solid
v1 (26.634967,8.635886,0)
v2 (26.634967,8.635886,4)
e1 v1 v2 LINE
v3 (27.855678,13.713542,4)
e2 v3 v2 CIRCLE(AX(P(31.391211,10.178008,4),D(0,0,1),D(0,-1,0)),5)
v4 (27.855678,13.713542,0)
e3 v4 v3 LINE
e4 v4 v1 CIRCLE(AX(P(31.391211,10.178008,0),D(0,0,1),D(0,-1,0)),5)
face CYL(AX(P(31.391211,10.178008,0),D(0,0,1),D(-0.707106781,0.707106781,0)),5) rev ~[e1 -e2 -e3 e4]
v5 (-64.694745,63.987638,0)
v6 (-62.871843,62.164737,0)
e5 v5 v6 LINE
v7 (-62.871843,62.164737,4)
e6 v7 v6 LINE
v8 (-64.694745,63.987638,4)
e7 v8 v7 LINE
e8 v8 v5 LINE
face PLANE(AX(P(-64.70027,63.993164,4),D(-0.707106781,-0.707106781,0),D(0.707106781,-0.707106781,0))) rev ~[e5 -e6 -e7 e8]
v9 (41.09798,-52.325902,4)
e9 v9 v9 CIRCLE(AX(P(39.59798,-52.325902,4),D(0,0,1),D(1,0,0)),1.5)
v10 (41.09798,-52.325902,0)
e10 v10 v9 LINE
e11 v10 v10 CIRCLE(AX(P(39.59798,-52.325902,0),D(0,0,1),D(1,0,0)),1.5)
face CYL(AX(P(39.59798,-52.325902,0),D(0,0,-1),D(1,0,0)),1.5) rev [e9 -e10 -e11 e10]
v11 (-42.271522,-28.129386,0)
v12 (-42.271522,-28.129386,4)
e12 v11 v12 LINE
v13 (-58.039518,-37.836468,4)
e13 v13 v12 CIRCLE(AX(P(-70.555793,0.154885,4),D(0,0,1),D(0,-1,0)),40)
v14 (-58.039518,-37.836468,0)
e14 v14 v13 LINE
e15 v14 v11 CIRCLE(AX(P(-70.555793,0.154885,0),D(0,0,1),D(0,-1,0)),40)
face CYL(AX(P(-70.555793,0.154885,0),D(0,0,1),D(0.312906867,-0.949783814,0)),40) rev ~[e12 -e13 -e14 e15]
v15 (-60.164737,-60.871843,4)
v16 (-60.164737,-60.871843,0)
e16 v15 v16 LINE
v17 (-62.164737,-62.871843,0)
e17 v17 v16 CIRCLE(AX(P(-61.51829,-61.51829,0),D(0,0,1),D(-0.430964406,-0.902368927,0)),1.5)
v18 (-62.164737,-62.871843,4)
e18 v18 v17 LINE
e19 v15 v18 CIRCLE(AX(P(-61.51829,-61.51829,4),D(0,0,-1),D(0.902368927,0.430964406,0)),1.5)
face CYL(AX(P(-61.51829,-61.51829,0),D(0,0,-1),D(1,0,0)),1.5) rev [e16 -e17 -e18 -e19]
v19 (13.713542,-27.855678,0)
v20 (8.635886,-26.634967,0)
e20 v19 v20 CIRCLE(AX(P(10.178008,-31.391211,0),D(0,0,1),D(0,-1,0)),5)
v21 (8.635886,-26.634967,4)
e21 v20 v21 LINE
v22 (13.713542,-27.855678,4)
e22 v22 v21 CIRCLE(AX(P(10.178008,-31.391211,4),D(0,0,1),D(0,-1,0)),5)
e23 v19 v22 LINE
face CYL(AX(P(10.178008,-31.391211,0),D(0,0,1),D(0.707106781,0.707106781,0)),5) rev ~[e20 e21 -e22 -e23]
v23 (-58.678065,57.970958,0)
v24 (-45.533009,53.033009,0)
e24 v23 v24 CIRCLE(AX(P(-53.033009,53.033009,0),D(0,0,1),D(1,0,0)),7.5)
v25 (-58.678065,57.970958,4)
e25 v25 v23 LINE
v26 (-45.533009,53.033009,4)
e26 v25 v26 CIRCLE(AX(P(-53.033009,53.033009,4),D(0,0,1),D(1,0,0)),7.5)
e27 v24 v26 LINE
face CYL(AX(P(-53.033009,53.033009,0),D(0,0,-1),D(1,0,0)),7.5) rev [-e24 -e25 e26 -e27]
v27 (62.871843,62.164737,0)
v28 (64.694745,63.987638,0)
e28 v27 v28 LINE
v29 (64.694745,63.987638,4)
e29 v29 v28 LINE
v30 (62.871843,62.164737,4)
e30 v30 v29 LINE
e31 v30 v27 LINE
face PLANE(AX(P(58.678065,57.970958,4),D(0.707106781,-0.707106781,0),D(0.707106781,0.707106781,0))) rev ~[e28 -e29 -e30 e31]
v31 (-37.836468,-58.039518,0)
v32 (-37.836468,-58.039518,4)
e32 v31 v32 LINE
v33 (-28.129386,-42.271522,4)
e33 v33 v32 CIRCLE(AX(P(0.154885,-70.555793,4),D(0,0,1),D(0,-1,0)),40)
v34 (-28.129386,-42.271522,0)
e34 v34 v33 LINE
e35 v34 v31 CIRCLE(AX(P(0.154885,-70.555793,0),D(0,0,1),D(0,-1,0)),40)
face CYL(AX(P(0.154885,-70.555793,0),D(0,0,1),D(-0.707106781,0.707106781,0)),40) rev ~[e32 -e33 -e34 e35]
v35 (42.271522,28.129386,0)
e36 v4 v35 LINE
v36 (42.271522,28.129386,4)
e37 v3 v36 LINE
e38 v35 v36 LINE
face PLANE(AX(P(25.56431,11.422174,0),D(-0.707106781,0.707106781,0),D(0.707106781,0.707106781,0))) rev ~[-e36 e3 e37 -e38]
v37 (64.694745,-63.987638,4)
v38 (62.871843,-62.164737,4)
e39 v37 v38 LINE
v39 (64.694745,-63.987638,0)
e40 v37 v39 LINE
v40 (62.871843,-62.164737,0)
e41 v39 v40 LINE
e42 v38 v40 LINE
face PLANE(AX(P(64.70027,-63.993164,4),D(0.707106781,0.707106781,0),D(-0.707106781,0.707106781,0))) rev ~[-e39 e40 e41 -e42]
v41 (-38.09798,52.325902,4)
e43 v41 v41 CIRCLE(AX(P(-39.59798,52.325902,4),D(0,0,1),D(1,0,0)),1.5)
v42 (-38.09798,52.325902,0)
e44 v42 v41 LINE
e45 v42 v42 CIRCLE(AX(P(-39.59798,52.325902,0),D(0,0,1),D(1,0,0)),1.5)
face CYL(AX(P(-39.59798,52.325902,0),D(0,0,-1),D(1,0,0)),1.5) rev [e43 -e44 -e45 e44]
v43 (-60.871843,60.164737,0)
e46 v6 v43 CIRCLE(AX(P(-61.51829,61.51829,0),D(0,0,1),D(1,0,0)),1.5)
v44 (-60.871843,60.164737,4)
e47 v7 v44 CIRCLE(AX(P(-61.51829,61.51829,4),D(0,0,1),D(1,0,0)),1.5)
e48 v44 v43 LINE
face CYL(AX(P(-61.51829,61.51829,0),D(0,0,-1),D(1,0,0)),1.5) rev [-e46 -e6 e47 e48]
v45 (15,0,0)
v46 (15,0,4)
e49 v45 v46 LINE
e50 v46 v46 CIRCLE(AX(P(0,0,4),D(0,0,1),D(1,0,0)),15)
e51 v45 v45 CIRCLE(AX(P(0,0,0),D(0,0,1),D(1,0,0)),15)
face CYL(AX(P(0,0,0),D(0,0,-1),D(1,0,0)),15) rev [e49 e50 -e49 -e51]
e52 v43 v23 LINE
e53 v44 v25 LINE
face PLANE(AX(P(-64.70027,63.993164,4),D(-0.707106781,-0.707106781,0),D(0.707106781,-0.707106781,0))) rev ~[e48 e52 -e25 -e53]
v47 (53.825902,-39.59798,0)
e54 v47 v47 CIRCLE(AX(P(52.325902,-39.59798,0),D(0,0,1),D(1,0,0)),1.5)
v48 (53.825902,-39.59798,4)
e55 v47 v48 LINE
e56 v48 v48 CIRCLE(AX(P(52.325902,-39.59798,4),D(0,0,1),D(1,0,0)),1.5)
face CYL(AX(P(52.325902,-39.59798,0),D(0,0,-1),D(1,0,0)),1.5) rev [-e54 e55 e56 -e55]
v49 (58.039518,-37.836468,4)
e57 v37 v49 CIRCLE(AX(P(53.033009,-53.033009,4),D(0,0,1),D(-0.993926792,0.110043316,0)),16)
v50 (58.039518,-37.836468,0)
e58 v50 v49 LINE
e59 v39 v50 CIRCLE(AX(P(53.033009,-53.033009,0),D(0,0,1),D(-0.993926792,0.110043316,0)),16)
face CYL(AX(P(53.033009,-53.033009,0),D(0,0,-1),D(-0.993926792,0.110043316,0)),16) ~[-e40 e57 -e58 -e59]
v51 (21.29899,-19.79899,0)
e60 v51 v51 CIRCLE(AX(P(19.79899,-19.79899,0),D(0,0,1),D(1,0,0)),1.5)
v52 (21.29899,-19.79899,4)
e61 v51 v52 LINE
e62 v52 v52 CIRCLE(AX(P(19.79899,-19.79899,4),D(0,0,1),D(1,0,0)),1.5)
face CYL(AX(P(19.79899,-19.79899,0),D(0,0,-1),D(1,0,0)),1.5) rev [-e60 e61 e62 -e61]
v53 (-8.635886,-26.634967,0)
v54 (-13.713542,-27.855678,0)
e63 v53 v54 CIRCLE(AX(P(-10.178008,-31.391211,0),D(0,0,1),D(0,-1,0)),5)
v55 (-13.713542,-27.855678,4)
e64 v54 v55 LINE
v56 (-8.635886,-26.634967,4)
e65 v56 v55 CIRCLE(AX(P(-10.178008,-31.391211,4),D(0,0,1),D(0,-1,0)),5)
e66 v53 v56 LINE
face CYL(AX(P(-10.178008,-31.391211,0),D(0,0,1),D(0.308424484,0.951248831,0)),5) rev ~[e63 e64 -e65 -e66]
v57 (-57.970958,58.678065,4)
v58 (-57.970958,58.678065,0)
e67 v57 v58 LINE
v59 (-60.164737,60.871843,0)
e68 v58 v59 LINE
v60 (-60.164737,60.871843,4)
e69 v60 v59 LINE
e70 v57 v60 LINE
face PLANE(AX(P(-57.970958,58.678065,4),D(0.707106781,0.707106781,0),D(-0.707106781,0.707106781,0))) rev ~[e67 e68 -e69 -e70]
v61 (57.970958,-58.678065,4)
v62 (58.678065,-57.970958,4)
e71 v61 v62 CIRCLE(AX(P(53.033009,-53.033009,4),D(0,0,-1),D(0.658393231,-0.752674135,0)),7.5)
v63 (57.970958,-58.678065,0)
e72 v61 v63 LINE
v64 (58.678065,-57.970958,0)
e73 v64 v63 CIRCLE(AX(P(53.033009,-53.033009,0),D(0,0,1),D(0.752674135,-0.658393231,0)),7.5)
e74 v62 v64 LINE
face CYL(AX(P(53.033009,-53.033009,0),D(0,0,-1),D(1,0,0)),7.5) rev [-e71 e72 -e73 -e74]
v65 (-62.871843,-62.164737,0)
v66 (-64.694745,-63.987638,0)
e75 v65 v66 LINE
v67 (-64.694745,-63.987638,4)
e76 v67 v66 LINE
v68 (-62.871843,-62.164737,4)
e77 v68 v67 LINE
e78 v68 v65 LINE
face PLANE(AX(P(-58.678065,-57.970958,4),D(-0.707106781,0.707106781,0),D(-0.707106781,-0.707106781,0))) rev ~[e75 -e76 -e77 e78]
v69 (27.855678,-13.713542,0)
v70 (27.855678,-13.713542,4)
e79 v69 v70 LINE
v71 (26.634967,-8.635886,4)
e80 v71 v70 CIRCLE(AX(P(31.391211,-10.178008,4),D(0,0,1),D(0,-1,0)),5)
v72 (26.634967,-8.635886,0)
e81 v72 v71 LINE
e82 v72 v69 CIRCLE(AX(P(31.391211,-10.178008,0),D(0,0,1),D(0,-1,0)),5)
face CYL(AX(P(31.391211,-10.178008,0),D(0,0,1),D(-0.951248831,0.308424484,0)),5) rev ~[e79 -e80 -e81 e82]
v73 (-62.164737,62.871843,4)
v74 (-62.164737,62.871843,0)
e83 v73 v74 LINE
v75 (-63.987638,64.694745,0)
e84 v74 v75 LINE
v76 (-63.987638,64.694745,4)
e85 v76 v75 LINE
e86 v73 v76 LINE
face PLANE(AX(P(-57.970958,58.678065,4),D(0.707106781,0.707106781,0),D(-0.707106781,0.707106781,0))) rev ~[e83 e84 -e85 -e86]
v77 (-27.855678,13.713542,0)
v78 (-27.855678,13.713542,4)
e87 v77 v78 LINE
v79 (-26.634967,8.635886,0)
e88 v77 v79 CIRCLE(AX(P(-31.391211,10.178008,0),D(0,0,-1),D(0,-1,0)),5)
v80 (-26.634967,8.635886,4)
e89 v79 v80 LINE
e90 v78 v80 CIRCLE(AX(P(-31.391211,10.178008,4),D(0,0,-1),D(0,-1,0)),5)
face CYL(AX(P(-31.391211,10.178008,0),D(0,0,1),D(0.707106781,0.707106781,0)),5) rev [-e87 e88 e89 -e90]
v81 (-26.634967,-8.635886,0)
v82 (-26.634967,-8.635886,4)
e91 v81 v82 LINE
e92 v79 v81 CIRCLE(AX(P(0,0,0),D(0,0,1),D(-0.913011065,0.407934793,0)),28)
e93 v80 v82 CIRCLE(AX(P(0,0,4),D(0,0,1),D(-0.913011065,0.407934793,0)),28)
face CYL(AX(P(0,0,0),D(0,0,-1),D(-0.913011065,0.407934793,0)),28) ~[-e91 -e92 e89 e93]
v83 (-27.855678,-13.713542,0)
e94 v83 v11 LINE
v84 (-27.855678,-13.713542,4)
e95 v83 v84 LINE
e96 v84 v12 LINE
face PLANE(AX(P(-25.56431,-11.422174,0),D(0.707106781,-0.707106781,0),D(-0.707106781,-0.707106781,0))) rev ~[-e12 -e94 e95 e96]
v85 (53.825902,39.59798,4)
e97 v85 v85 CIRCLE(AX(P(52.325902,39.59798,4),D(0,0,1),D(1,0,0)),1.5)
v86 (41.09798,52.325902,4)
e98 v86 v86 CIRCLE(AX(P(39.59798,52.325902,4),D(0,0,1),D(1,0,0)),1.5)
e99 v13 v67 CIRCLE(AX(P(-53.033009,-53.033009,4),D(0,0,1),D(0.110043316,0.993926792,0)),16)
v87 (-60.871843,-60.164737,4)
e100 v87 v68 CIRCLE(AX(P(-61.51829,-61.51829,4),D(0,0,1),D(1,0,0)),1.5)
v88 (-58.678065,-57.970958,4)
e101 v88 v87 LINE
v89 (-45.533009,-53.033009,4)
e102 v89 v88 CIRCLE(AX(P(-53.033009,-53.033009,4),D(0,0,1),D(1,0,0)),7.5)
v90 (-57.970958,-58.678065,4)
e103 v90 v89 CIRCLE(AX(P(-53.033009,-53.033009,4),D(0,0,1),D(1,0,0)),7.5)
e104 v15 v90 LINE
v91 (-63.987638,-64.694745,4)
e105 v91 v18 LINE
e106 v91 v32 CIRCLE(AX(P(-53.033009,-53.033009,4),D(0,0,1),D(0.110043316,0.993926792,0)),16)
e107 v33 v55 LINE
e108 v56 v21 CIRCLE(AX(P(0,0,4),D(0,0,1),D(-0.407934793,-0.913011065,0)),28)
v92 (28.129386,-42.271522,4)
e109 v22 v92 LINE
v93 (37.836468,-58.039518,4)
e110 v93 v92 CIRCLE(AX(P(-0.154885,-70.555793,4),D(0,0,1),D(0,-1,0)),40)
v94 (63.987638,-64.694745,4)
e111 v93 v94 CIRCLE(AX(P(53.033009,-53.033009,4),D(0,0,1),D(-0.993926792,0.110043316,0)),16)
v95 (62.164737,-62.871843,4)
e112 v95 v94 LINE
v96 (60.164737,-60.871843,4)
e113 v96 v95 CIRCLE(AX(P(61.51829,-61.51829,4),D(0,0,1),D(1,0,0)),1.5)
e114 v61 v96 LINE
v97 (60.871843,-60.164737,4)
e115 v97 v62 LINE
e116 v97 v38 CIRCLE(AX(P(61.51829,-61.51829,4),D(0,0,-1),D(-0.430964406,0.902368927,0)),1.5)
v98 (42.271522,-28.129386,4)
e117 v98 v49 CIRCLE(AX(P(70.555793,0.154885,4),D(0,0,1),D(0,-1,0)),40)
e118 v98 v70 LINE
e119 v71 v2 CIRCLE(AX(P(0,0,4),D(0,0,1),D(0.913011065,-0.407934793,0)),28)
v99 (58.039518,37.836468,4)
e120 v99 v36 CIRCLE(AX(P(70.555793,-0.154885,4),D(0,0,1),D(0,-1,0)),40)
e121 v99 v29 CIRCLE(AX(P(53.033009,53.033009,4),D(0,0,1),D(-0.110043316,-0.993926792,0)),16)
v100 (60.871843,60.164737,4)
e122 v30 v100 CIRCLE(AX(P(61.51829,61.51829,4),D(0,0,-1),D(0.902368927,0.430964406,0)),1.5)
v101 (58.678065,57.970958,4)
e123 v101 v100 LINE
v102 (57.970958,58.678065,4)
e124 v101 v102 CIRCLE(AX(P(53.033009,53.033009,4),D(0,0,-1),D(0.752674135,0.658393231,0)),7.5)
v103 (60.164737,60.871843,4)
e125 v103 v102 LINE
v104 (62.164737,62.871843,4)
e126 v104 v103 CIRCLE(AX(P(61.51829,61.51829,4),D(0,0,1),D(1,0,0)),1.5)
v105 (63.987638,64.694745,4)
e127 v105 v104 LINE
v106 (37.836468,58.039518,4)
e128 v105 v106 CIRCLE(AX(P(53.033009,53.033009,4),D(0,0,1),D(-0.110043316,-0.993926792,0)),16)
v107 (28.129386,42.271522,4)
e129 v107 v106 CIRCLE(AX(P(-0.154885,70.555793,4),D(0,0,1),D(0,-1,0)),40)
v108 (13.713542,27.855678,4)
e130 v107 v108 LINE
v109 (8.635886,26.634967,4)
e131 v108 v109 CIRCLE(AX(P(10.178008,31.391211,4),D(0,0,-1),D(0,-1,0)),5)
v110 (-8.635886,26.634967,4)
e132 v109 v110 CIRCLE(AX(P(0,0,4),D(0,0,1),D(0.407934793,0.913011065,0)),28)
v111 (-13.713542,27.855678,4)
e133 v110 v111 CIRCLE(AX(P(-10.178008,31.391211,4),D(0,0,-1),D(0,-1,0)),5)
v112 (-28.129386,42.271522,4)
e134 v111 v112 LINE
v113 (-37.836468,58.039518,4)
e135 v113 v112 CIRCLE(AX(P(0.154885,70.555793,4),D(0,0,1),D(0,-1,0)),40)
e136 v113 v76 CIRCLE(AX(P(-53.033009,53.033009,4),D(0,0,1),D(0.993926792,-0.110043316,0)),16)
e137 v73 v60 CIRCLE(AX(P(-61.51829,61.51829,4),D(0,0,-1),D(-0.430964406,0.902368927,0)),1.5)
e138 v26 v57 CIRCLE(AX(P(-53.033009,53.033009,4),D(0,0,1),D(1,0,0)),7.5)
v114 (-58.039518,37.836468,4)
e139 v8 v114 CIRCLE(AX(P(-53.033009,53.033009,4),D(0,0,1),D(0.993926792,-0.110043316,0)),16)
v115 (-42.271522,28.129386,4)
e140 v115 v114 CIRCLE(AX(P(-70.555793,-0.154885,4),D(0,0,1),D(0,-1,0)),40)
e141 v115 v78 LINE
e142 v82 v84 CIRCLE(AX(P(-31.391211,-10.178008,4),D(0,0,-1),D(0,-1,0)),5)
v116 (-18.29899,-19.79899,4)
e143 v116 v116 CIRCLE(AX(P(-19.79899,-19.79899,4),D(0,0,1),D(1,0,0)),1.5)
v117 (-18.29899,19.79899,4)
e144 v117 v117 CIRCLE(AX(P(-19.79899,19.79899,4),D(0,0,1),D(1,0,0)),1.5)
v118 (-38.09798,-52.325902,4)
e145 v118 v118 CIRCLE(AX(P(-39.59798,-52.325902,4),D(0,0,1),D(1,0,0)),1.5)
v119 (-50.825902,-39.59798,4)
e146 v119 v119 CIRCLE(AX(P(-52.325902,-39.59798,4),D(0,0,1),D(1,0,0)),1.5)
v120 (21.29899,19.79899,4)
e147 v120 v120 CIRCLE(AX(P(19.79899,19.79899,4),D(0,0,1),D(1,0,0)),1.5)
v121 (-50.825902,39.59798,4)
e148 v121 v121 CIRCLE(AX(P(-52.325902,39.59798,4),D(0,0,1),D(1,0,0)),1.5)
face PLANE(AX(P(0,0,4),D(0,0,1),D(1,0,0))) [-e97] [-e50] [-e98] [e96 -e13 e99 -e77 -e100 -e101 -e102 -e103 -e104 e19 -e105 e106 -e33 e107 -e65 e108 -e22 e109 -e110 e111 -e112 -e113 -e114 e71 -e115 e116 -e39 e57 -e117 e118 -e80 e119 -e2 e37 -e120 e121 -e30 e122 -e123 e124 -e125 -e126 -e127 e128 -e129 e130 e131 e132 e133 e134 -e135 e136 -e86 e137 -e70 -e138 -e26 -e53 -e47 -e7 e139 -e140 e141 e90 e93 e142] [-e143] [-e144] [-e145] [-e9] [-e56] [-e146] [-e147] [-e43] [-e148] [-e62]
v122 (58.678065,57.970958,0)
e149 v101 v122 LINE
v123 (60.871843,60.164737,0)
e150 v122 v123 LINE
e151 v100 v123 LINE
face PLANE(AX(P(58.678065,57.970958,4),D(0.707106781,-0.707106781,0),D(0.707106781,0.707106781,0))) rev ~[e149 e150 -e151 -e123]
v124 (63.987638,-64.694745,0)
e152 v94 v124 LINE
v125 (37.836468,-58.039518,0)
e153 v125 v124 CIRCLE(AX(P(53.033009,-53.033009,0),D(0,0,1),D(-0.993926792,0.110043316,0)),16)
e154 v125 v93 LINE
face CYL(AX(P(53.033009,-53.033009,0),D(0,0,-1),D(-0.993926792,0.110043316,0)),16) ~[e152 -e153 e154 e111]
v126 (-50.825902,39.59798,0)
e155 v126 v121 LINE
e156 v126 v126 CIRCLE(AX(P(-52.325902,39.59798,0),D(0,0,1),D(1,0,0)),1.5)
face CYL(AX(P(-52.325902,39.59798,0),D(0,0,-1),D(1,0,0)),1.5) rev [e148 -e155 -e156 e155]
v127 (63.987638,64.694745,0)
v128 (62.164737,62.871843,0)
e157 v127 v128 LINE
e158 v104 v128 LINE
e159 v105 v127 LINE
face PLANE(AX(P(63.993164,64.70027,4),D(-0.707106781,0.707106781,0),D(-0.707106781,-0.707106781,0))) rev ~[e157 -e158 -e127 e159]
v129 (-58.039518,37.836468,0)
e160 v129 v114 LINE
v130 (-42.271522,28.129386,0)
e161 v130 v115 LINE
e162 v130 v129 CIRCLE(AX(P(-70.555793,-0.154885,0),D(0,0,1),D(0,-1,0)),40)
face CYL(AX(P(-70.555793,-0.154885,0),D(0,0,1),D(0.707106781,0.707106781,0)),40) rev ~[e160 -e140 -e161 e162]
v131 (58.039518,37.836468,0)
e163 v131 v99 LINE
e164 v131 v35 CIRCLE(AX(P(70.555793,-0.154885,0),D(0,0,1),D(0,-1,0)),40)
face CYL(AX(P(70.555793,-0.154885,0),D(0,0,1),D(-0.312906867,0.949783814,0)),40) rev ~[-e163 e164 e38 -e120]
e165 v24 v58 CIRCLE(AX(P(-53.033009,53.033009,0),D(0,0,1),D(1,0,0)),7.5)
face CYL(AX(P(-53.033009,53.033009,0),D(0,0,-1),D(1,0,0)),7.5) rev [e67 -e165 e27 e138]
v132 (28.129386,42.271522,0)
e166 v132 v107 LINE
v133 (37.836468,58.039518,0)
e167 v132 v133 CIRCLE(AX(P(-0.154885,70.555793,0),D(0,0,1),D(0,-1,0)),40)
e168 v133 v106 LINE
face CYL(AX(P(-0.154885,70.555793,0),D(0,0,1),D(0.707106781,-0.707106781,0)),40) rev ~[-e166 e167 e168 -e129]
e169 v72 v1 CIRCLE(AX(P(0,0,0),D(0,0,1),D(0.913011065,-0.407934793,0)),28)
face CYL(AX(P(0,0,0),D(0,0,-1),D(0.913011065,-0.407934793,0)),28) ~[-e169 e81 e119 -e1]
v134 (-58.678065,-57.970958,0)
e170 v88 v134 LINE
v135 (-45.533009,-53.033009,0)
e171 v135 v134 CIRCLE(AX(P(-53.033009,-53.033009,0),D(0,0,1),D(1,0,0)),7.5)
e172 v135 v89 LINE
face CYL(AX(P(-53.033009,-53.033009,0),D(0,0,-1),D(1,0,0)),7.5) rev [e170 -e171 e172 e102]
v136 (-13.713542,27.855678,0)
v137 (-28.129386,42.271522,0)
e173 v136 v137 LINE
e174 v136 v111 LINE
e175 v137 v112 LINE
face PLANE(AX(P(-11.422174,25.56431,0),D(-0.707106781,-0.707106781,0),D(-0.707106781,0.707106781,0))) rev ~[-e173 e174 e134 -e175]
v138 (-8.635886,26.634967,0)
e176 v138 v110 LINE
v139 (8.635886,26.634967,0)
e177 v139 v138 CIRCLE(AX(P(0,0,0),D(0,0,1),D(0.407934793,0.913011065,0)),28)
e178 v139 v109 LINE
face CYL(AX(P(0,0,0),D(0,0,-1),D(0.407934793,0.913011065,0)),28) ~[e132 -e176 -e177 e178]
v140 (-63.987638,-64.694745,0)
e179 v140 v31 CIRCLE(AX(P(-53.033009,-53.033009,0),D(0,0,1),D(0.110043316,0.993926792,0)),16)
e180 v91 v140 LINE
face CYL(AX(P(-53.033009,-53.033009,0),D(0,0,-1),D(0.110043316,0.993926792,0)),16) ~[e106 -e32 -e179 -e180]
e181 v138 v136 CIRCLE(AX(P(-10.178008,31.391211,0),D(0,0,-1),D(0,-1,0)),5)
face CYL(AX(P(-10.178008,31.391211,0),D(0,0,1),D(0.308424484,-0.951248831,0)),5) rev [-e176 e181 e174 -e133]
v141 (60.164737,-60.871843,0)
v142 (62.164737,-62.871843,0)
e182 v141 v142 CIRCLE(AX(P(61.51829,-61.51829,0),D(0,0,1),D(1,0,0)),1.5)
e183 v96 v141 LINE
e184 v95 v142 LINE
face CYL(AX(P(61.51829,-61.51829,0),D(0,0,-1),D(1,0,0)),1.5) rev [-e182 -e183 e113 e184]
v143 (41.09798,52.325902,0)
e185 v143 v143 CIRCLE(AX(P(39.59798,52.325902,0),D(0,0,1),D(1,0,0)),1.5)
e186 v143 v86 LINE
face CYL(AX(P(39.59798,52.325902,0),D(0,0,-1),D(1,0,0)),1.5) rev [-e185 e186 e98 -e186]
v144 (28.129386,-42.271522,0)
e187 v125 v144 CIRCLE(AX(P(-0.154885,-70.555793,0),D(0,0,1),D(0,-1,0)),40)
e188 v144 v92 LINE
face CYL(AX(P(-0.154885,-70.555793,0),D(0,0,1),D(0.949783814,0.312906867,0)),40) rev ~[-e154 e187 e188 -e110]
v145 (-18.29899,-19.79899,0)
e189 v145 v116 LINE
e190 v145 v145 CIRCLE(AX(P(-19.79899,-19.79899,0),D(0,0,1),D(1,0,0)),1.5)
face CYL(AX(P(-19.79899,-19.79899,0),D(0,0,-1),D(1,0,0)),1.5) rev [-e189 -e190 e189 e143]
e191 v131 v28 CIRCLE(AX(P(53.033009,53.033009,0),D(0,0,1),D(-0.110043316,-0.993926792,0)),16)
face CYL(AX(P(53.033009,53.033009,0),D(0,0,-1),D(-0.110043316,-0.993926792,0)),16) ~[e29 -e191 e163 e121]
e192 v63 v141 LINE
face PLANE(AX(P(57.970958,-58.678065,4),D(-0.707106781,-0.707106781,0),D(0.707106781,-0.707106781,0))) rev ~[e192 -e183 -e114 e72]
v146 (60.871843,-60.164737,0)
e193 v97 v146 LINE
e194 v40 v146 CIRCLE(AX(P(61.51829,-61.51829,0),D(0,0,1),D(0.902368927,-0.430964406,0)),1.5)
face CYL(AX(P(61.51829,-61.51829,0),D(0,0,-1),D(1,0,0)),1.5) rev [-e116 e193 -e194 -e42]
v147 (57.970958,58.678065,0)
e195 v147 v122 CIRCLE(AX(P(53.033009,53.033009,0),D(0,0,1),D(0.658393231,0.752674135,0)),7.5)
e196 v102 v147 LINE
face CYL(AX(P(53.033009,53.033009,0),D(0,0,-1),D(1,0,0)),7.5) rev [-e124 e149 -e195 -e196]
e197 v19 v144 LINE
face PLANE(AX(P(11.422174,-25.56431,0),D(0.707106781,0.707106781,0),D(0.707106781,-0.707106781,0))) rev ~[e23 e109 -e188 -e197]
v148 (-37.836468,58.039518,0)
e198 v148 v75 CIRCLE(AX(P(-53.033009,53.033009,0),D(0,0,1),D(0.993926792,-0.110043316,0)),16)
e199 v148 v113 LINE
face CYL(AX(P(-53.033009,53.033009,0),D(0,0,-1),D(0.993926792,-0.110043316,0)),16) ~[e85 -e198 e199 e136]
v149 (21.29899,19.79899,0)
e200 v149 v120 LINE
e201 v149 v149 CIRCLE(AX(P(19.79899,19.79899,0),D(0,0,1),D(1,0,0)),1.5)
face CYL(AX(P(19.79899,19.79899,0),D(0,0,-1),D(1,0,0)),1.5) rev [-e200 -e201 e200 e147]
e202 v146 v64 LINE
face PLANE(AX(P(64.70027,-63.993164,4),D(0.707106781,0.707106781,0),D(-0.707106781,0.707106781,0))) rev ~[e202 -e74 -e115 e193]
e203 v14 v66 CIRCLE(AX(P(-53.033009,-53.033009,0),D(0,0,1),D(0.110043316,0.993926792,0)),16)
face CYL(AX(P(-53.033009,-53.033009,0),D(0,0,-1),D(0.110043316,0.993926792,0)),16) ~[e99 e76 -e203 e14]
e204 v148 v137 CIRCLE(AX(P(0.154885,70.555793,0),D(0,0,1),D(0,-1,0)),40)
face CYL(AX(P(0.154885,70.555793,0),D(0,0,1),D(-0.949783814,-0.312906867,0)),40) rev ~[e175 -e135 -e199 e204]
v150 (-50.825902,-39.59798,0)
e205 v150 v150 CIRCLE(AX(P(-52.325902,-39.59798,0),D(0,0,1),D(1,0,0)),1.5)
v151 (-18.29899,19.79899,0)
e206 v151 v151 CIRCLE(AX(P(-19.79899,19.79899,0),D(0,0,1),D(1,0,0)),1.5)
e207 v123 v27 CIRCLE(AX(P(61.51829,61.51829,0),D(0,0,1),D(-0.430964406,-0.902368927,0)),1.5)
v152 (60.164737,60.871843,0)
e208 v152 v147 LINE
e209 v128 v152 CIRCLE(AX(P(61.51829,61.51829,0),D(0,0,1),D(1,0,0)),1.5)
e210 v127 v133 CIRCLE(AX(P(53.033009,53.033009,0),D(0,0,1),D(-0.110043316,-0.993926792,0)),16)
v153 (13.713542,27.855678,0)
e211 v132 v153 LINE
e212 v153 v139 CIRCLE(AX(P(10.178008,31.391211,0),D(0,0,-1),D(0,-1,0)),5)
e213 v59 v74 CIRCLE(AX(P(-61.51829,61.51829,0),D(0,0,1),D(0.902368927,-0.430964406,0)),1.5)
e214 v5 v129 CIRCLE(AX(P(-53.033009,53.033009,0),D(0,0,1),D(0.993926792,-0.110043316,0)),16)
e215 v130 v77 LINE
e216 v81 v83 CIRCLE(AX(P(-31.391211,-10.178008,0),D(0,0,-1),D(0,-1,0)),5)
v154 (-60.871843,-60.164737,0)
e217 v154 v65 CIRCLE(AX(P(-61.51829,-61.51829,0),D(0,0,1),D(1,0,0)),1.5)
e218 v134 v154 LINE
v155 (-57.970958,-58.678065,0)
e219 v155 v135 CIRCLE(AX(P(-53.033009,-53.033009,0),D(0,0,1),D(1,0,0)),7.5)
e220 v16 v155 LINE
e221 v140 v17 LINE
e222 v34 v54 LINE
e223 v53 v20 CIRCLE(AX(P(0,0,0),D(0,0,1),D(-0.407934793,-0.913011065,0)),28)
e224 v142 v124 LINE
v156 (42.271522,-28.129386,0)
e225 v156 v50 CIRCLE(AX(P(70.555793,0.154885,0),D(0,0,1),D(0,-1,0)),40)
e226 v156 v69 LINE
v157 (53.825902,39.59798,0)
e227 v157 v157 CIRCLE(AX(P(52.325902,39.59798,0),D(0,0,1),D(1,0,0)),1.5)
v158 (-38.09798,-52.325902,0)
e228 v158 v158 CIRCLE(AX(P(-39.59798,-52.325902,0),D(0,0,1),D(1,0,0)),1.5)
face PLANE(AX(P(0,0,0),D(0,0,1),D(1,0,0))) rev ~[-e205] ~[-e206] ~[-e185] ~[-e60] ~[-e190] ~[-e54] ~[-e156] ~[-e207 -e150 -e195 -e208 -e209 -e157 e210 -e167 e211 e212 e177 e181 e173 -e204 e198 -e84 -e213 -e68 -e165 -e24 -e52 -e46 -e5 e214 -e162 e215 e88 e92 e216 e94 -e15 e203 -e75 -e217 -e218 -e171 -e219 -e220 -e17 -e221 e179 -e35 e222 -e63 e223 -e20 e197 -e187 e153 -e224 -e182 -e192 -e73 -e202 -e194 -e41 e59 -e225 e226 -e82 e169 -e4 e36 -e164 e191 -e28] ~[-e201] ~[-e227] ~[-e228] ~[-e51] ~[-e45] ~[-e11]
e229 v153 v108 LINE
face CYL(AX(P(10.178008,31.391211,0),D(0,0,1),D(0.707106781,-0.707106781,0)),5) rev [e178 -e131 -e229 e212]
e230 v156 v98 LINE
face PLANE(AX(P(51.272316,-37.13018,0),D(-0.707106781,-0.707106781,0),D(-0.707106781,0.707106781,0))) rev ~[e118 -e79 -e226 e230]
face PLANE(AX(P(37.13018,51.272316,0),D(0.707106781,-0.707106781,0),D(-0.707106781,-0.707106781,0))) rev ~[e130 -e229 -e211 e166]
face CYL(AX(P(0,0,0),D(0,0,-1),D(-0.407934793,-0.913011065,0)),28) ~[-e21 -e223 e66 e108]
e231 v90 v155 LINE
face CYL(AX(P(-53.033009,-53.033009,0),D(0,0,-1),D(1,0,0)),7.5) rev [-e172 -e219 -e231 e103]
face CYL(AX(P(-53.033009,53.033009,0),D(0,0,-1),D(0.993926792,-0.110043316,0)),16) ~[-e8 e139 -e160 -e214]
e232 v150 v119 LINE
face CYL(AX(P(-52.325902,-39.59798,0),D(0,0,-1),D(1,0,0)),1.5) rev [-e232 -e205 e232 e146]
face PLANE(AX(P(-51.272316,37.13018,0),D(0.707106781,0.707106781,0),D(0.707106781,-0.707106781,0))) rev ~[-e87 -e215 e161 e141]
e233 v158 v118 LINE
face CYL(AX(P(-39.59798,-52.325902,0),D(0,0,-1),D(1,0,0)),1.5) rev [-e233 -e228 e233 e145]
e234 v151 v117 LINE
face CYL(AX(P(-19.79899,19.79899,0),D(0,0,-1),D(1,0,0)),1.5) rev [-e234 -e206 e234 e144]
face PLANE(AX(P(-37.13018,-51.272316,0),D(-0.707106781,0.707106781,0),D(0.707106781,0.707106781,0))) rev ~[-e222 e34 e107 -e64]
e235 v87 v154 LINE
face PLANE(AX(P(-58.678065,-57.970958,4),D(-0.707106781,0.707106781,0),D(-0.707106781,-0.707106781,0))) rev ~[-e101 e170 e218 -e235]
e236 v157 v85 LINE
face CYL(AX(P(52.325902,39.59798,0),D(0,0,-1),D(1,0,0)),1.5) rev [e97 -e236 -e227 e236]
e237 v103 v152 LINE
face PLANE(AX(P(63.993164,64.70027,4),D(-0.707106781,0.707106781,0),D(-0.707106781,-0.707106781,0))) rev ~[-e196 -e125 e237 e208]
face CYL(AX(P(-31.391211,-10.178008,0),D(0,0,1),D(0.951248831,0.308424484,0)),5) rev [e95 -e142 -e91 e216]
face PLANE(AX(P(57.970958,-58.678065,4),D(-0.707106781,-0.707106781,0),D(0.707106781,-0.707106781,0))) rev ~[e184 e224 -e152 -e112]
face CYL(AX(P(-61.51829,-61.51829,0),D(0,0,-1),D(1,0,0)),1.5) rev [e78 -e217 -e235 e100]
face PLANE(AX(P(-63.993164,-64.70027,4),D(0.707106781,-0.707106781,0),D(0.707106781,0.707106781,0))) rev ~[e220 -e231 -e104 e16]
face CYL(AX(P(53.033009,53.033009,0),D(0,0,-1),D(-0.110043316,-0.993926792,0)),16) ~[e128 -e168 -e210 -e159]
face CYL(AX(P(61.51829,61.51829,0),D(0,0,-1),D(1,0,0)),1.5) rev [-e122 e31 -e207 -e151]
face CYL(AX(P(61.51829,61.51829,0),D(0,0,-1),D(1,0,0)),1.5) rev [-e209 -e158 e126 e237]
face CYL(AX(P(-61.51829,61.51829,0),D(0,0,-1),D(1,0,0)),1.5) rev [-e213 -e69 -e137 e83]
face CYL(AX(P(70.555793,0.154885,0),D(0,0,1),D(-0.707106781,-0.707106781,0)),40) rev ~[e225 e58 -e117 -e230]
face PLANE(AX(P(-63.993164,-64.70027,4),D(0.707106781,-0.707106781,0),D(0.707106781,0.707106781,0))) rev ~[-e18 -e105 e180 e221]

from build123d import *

# Parameters (mm, degrees)
SKETCH1_R           = 1.5
SKETCH1_R_2         = 7.5
SKETCH1_R_3         = 15
BOSS_EXTRUDE1_DEPTH = 4
CUT_EXTRUDE2_DEPTH  = 98.709326831
FILLET3_R           = 40
FILLET4_R           = 5


with BuildPart() as part:
    # Sketch1 → Boss-Extrude1 (new body)
    with BuildSketch(Plane.XY):
        with BuildLine():
            Line((37.130179911, 51.272315535), (11.422174197, 25.564309821))
            ThreePointArc((11.422174197, 25.564309821), (0, 28), (-11.422174197, 25.564309821))
            Line((-11.422174197, 25.564309821), (-37.130179911, 51.272315535))
            ThreePointArc((-37.130179911, 51.272315535), (-64.346717088, 64.346717088), (-51.272315535, 37.130179911))
            Line((-51.272315535, 37.130179911), (-25.564309821, 11.422174197))
            ThreePointArc((-25.564309821, 11.422174197), (-28, 0), (-25.564309821, -11.422174197))
            Line((-25.564309821, -11.422174197), (-51.272315535, -37.130179911))
            ThreePointArc((-51.272315535, -37.130179911), (-64.346717088, -64.346717088), (-37.130179911, -51.272315535))
            Line((-37.130179911, -51.272315535), (-11.422174197, -25.564309821))
            ThreePointArc((-11.422174197, -25.564309821), (0, -28), (11.422174197, -25.564309821))
            Line((11.422174197, -25.564309821), (37.130179911, -51.272315535))
            ThreePointArc((37.130179911, -51.272315535), (64.346717088, -64.346717088), (51.272315535, -37.130179911))
            Line((51.272315535, -37.130179911), (25.564309821, -11.422174197))
            ThreePointArc((25.564309821, -11.422174197), (28, 0), (25.564309821, 11.422174197))
            Line((25.564309821, 11.422174197), (51.272315535, 37.130179911))
            ThreePointArc((51.272315535, 37.130179911), (64.346717088, 64.346717088), (37.130179911, 51.272315535))
        make_face()
        with Locations((52.325901808, 39.597979746)):
            Circle(SKETCH1_R, mode=Mode.SUBTRACT)
        with Locations((19.798989873, -19.798989873)):
            Circle(SKETCH1_R, mode=Mode.SUBTRACT)
        with Locations((61.518289963, 61.518289963)):
            Circle(SKETCH1_R, mode=Mode.SUBTRACT)
        with Locations((-19.798989873, -19.798989873)):
            Circle(SKETCH1_R, mode=Mode.SUBTRACT)
        with Locations((19.798989873, 19.798989873)):
            Circle(SKETCH1_R, mode=Mode.SUBTRACT)
        with Locations((-19.798989873, 19.798989873)):
            Circle(SKETCH1_R, mode=Mode.SUBTRACT)
        with Locations((39.597979746, 52.325901808)):
            Circle(SKETCH1_R, mode=Mode.SUBTRACT)
        with Locations((53.033008589, 53.033008589)):
            Circle(SKETCH1_R_2, mode=Mode.SUBTRACT)
        with Locations((53.033008589, -53.033008589)):
            Circle(SKETCH1_R_2, mode=Mode.SUBTRACT)
        with Locations((61.518289963, -61.518289963)):
            Circle(SKETCH1_R, mode=Mode.SUBTRACT)
        with Locations((52.325901808, -39.597979746)):
            Circle(SKETCH1_R, mode=Mode.SUBTRACT)
        with Locations((39.597979746, -52.325901808)):
            Circle(SKETCH1_R, mode=Mode.SUBTRACT)
        with Locations((-53.033008589, -53.033008589)):
            Circle(SKETCH1_R_2, mode=Mode.SUBTRACT)
        with Locations((-61.518289963, -61.518289963)):
            Circle(SKETCH1_R, mode=Mode.SUBTRACT)
        with Locations((-39.597979746, -52.325901808)):
            Circle(SKETCH1_R, mode=Mode.SUBTRACT)
        with Locations((-52.325901808, -39.597979746)):
            Circle(SKETCH1_R, mode=Mode.SUBTRACT)
        with Locations((-53.033008589, 53.033008589)):
            Circle(SKETCH1_R_2, mode=Mode.SUBTRACT)
        with Locations((-61.518289963, 61.518289963)):
            Circle(SKETCH1_R, mode=Mode.SUBTRACT)
        with Locations((-52.325901808, 39.597979746)):
            Circle(SKETCH1_R, mode=Mode.SUBTRACT)
        with Locations((-39.597979746, 52.325901808)):
            Circle(SKETCH1_R, mode=Mode.SUBTRACT)
        Circle(SKETCH1_R_3, mode=Mode.SUBTRACT)
    extrude(amount=BOSS_EXTRUDE1_DEPTH)

    # Sketch3 → Cut-Extrude2 (cut, through all)
    with BuildSketch(Plane.XY.offset(4)):
        Polygon((63.993163697, 64.700270479), (57.970957821, 58.678064602), (58.678064602, 57.970957821), (64.700270479, 63.993163697), align=None)
        Polygon((58.678064602, -57.970957821), (57.970957821, -58.678064602), (63.993163697, -64.700270479), (64.700270479, -63.993163697), align=None)
        Polygon((-57.970957821, -58.678064602), (-58.678064602, -57.970957821), (-64.700270479, -63.993163697), (-63.993163697, -64.700270479), align=None)
        Polygon((-58.678064602, 57.970957821), (-57.970957821, 58.678064602), (-63.993163697, 64.700270479), (-64.700270479, 63.993163697), align=None)
    extrude(amount=-CUT_EXTRUDE2_DEPTH, mode=Mode.SUBTRACT)

    # Fillet3
    fillet3_edges = [part.edges().sort_by_distance(p)[0] for p in [
        (37.130179911, 51.272315535, 2),
        (51.272315535, 37.130179911, 2),
        (51.272315535, -37.130179911, 2),
        (37.130179911, -51.272315535, 2),
        (-37.130179911, -51.272315535, 2),
        (-51.272315535, -37.130179911, 2),
        (-51.272315535, 37.130179911, 2),
        (-37.130179911, 51.272315535, 2),
    ]]
    fillet(fillet3_edges, radius=FILLET3_R)

    # Fillet4
    fillet4_edges = [part.edges().sort_by_distance(p)[0] for p in [
        (11.422174197, 25.564309821, 2),
        (25.564309821, 11.422174197, 2),
        (25.564309821, -11.422174197, 2),
        (11.422174197, -25.564309821, 2),
        (-11.422174197, -25.564309821, 2),
        (-25.564309821, -11.422174197, 2),
        (-25.564309821, 11.422174197, 2),
        (-11.422174197, 25.564309821, 2),
    ]]
    fillet(fillet4_edges, radius=FILLET4_R)


solid = part.part
